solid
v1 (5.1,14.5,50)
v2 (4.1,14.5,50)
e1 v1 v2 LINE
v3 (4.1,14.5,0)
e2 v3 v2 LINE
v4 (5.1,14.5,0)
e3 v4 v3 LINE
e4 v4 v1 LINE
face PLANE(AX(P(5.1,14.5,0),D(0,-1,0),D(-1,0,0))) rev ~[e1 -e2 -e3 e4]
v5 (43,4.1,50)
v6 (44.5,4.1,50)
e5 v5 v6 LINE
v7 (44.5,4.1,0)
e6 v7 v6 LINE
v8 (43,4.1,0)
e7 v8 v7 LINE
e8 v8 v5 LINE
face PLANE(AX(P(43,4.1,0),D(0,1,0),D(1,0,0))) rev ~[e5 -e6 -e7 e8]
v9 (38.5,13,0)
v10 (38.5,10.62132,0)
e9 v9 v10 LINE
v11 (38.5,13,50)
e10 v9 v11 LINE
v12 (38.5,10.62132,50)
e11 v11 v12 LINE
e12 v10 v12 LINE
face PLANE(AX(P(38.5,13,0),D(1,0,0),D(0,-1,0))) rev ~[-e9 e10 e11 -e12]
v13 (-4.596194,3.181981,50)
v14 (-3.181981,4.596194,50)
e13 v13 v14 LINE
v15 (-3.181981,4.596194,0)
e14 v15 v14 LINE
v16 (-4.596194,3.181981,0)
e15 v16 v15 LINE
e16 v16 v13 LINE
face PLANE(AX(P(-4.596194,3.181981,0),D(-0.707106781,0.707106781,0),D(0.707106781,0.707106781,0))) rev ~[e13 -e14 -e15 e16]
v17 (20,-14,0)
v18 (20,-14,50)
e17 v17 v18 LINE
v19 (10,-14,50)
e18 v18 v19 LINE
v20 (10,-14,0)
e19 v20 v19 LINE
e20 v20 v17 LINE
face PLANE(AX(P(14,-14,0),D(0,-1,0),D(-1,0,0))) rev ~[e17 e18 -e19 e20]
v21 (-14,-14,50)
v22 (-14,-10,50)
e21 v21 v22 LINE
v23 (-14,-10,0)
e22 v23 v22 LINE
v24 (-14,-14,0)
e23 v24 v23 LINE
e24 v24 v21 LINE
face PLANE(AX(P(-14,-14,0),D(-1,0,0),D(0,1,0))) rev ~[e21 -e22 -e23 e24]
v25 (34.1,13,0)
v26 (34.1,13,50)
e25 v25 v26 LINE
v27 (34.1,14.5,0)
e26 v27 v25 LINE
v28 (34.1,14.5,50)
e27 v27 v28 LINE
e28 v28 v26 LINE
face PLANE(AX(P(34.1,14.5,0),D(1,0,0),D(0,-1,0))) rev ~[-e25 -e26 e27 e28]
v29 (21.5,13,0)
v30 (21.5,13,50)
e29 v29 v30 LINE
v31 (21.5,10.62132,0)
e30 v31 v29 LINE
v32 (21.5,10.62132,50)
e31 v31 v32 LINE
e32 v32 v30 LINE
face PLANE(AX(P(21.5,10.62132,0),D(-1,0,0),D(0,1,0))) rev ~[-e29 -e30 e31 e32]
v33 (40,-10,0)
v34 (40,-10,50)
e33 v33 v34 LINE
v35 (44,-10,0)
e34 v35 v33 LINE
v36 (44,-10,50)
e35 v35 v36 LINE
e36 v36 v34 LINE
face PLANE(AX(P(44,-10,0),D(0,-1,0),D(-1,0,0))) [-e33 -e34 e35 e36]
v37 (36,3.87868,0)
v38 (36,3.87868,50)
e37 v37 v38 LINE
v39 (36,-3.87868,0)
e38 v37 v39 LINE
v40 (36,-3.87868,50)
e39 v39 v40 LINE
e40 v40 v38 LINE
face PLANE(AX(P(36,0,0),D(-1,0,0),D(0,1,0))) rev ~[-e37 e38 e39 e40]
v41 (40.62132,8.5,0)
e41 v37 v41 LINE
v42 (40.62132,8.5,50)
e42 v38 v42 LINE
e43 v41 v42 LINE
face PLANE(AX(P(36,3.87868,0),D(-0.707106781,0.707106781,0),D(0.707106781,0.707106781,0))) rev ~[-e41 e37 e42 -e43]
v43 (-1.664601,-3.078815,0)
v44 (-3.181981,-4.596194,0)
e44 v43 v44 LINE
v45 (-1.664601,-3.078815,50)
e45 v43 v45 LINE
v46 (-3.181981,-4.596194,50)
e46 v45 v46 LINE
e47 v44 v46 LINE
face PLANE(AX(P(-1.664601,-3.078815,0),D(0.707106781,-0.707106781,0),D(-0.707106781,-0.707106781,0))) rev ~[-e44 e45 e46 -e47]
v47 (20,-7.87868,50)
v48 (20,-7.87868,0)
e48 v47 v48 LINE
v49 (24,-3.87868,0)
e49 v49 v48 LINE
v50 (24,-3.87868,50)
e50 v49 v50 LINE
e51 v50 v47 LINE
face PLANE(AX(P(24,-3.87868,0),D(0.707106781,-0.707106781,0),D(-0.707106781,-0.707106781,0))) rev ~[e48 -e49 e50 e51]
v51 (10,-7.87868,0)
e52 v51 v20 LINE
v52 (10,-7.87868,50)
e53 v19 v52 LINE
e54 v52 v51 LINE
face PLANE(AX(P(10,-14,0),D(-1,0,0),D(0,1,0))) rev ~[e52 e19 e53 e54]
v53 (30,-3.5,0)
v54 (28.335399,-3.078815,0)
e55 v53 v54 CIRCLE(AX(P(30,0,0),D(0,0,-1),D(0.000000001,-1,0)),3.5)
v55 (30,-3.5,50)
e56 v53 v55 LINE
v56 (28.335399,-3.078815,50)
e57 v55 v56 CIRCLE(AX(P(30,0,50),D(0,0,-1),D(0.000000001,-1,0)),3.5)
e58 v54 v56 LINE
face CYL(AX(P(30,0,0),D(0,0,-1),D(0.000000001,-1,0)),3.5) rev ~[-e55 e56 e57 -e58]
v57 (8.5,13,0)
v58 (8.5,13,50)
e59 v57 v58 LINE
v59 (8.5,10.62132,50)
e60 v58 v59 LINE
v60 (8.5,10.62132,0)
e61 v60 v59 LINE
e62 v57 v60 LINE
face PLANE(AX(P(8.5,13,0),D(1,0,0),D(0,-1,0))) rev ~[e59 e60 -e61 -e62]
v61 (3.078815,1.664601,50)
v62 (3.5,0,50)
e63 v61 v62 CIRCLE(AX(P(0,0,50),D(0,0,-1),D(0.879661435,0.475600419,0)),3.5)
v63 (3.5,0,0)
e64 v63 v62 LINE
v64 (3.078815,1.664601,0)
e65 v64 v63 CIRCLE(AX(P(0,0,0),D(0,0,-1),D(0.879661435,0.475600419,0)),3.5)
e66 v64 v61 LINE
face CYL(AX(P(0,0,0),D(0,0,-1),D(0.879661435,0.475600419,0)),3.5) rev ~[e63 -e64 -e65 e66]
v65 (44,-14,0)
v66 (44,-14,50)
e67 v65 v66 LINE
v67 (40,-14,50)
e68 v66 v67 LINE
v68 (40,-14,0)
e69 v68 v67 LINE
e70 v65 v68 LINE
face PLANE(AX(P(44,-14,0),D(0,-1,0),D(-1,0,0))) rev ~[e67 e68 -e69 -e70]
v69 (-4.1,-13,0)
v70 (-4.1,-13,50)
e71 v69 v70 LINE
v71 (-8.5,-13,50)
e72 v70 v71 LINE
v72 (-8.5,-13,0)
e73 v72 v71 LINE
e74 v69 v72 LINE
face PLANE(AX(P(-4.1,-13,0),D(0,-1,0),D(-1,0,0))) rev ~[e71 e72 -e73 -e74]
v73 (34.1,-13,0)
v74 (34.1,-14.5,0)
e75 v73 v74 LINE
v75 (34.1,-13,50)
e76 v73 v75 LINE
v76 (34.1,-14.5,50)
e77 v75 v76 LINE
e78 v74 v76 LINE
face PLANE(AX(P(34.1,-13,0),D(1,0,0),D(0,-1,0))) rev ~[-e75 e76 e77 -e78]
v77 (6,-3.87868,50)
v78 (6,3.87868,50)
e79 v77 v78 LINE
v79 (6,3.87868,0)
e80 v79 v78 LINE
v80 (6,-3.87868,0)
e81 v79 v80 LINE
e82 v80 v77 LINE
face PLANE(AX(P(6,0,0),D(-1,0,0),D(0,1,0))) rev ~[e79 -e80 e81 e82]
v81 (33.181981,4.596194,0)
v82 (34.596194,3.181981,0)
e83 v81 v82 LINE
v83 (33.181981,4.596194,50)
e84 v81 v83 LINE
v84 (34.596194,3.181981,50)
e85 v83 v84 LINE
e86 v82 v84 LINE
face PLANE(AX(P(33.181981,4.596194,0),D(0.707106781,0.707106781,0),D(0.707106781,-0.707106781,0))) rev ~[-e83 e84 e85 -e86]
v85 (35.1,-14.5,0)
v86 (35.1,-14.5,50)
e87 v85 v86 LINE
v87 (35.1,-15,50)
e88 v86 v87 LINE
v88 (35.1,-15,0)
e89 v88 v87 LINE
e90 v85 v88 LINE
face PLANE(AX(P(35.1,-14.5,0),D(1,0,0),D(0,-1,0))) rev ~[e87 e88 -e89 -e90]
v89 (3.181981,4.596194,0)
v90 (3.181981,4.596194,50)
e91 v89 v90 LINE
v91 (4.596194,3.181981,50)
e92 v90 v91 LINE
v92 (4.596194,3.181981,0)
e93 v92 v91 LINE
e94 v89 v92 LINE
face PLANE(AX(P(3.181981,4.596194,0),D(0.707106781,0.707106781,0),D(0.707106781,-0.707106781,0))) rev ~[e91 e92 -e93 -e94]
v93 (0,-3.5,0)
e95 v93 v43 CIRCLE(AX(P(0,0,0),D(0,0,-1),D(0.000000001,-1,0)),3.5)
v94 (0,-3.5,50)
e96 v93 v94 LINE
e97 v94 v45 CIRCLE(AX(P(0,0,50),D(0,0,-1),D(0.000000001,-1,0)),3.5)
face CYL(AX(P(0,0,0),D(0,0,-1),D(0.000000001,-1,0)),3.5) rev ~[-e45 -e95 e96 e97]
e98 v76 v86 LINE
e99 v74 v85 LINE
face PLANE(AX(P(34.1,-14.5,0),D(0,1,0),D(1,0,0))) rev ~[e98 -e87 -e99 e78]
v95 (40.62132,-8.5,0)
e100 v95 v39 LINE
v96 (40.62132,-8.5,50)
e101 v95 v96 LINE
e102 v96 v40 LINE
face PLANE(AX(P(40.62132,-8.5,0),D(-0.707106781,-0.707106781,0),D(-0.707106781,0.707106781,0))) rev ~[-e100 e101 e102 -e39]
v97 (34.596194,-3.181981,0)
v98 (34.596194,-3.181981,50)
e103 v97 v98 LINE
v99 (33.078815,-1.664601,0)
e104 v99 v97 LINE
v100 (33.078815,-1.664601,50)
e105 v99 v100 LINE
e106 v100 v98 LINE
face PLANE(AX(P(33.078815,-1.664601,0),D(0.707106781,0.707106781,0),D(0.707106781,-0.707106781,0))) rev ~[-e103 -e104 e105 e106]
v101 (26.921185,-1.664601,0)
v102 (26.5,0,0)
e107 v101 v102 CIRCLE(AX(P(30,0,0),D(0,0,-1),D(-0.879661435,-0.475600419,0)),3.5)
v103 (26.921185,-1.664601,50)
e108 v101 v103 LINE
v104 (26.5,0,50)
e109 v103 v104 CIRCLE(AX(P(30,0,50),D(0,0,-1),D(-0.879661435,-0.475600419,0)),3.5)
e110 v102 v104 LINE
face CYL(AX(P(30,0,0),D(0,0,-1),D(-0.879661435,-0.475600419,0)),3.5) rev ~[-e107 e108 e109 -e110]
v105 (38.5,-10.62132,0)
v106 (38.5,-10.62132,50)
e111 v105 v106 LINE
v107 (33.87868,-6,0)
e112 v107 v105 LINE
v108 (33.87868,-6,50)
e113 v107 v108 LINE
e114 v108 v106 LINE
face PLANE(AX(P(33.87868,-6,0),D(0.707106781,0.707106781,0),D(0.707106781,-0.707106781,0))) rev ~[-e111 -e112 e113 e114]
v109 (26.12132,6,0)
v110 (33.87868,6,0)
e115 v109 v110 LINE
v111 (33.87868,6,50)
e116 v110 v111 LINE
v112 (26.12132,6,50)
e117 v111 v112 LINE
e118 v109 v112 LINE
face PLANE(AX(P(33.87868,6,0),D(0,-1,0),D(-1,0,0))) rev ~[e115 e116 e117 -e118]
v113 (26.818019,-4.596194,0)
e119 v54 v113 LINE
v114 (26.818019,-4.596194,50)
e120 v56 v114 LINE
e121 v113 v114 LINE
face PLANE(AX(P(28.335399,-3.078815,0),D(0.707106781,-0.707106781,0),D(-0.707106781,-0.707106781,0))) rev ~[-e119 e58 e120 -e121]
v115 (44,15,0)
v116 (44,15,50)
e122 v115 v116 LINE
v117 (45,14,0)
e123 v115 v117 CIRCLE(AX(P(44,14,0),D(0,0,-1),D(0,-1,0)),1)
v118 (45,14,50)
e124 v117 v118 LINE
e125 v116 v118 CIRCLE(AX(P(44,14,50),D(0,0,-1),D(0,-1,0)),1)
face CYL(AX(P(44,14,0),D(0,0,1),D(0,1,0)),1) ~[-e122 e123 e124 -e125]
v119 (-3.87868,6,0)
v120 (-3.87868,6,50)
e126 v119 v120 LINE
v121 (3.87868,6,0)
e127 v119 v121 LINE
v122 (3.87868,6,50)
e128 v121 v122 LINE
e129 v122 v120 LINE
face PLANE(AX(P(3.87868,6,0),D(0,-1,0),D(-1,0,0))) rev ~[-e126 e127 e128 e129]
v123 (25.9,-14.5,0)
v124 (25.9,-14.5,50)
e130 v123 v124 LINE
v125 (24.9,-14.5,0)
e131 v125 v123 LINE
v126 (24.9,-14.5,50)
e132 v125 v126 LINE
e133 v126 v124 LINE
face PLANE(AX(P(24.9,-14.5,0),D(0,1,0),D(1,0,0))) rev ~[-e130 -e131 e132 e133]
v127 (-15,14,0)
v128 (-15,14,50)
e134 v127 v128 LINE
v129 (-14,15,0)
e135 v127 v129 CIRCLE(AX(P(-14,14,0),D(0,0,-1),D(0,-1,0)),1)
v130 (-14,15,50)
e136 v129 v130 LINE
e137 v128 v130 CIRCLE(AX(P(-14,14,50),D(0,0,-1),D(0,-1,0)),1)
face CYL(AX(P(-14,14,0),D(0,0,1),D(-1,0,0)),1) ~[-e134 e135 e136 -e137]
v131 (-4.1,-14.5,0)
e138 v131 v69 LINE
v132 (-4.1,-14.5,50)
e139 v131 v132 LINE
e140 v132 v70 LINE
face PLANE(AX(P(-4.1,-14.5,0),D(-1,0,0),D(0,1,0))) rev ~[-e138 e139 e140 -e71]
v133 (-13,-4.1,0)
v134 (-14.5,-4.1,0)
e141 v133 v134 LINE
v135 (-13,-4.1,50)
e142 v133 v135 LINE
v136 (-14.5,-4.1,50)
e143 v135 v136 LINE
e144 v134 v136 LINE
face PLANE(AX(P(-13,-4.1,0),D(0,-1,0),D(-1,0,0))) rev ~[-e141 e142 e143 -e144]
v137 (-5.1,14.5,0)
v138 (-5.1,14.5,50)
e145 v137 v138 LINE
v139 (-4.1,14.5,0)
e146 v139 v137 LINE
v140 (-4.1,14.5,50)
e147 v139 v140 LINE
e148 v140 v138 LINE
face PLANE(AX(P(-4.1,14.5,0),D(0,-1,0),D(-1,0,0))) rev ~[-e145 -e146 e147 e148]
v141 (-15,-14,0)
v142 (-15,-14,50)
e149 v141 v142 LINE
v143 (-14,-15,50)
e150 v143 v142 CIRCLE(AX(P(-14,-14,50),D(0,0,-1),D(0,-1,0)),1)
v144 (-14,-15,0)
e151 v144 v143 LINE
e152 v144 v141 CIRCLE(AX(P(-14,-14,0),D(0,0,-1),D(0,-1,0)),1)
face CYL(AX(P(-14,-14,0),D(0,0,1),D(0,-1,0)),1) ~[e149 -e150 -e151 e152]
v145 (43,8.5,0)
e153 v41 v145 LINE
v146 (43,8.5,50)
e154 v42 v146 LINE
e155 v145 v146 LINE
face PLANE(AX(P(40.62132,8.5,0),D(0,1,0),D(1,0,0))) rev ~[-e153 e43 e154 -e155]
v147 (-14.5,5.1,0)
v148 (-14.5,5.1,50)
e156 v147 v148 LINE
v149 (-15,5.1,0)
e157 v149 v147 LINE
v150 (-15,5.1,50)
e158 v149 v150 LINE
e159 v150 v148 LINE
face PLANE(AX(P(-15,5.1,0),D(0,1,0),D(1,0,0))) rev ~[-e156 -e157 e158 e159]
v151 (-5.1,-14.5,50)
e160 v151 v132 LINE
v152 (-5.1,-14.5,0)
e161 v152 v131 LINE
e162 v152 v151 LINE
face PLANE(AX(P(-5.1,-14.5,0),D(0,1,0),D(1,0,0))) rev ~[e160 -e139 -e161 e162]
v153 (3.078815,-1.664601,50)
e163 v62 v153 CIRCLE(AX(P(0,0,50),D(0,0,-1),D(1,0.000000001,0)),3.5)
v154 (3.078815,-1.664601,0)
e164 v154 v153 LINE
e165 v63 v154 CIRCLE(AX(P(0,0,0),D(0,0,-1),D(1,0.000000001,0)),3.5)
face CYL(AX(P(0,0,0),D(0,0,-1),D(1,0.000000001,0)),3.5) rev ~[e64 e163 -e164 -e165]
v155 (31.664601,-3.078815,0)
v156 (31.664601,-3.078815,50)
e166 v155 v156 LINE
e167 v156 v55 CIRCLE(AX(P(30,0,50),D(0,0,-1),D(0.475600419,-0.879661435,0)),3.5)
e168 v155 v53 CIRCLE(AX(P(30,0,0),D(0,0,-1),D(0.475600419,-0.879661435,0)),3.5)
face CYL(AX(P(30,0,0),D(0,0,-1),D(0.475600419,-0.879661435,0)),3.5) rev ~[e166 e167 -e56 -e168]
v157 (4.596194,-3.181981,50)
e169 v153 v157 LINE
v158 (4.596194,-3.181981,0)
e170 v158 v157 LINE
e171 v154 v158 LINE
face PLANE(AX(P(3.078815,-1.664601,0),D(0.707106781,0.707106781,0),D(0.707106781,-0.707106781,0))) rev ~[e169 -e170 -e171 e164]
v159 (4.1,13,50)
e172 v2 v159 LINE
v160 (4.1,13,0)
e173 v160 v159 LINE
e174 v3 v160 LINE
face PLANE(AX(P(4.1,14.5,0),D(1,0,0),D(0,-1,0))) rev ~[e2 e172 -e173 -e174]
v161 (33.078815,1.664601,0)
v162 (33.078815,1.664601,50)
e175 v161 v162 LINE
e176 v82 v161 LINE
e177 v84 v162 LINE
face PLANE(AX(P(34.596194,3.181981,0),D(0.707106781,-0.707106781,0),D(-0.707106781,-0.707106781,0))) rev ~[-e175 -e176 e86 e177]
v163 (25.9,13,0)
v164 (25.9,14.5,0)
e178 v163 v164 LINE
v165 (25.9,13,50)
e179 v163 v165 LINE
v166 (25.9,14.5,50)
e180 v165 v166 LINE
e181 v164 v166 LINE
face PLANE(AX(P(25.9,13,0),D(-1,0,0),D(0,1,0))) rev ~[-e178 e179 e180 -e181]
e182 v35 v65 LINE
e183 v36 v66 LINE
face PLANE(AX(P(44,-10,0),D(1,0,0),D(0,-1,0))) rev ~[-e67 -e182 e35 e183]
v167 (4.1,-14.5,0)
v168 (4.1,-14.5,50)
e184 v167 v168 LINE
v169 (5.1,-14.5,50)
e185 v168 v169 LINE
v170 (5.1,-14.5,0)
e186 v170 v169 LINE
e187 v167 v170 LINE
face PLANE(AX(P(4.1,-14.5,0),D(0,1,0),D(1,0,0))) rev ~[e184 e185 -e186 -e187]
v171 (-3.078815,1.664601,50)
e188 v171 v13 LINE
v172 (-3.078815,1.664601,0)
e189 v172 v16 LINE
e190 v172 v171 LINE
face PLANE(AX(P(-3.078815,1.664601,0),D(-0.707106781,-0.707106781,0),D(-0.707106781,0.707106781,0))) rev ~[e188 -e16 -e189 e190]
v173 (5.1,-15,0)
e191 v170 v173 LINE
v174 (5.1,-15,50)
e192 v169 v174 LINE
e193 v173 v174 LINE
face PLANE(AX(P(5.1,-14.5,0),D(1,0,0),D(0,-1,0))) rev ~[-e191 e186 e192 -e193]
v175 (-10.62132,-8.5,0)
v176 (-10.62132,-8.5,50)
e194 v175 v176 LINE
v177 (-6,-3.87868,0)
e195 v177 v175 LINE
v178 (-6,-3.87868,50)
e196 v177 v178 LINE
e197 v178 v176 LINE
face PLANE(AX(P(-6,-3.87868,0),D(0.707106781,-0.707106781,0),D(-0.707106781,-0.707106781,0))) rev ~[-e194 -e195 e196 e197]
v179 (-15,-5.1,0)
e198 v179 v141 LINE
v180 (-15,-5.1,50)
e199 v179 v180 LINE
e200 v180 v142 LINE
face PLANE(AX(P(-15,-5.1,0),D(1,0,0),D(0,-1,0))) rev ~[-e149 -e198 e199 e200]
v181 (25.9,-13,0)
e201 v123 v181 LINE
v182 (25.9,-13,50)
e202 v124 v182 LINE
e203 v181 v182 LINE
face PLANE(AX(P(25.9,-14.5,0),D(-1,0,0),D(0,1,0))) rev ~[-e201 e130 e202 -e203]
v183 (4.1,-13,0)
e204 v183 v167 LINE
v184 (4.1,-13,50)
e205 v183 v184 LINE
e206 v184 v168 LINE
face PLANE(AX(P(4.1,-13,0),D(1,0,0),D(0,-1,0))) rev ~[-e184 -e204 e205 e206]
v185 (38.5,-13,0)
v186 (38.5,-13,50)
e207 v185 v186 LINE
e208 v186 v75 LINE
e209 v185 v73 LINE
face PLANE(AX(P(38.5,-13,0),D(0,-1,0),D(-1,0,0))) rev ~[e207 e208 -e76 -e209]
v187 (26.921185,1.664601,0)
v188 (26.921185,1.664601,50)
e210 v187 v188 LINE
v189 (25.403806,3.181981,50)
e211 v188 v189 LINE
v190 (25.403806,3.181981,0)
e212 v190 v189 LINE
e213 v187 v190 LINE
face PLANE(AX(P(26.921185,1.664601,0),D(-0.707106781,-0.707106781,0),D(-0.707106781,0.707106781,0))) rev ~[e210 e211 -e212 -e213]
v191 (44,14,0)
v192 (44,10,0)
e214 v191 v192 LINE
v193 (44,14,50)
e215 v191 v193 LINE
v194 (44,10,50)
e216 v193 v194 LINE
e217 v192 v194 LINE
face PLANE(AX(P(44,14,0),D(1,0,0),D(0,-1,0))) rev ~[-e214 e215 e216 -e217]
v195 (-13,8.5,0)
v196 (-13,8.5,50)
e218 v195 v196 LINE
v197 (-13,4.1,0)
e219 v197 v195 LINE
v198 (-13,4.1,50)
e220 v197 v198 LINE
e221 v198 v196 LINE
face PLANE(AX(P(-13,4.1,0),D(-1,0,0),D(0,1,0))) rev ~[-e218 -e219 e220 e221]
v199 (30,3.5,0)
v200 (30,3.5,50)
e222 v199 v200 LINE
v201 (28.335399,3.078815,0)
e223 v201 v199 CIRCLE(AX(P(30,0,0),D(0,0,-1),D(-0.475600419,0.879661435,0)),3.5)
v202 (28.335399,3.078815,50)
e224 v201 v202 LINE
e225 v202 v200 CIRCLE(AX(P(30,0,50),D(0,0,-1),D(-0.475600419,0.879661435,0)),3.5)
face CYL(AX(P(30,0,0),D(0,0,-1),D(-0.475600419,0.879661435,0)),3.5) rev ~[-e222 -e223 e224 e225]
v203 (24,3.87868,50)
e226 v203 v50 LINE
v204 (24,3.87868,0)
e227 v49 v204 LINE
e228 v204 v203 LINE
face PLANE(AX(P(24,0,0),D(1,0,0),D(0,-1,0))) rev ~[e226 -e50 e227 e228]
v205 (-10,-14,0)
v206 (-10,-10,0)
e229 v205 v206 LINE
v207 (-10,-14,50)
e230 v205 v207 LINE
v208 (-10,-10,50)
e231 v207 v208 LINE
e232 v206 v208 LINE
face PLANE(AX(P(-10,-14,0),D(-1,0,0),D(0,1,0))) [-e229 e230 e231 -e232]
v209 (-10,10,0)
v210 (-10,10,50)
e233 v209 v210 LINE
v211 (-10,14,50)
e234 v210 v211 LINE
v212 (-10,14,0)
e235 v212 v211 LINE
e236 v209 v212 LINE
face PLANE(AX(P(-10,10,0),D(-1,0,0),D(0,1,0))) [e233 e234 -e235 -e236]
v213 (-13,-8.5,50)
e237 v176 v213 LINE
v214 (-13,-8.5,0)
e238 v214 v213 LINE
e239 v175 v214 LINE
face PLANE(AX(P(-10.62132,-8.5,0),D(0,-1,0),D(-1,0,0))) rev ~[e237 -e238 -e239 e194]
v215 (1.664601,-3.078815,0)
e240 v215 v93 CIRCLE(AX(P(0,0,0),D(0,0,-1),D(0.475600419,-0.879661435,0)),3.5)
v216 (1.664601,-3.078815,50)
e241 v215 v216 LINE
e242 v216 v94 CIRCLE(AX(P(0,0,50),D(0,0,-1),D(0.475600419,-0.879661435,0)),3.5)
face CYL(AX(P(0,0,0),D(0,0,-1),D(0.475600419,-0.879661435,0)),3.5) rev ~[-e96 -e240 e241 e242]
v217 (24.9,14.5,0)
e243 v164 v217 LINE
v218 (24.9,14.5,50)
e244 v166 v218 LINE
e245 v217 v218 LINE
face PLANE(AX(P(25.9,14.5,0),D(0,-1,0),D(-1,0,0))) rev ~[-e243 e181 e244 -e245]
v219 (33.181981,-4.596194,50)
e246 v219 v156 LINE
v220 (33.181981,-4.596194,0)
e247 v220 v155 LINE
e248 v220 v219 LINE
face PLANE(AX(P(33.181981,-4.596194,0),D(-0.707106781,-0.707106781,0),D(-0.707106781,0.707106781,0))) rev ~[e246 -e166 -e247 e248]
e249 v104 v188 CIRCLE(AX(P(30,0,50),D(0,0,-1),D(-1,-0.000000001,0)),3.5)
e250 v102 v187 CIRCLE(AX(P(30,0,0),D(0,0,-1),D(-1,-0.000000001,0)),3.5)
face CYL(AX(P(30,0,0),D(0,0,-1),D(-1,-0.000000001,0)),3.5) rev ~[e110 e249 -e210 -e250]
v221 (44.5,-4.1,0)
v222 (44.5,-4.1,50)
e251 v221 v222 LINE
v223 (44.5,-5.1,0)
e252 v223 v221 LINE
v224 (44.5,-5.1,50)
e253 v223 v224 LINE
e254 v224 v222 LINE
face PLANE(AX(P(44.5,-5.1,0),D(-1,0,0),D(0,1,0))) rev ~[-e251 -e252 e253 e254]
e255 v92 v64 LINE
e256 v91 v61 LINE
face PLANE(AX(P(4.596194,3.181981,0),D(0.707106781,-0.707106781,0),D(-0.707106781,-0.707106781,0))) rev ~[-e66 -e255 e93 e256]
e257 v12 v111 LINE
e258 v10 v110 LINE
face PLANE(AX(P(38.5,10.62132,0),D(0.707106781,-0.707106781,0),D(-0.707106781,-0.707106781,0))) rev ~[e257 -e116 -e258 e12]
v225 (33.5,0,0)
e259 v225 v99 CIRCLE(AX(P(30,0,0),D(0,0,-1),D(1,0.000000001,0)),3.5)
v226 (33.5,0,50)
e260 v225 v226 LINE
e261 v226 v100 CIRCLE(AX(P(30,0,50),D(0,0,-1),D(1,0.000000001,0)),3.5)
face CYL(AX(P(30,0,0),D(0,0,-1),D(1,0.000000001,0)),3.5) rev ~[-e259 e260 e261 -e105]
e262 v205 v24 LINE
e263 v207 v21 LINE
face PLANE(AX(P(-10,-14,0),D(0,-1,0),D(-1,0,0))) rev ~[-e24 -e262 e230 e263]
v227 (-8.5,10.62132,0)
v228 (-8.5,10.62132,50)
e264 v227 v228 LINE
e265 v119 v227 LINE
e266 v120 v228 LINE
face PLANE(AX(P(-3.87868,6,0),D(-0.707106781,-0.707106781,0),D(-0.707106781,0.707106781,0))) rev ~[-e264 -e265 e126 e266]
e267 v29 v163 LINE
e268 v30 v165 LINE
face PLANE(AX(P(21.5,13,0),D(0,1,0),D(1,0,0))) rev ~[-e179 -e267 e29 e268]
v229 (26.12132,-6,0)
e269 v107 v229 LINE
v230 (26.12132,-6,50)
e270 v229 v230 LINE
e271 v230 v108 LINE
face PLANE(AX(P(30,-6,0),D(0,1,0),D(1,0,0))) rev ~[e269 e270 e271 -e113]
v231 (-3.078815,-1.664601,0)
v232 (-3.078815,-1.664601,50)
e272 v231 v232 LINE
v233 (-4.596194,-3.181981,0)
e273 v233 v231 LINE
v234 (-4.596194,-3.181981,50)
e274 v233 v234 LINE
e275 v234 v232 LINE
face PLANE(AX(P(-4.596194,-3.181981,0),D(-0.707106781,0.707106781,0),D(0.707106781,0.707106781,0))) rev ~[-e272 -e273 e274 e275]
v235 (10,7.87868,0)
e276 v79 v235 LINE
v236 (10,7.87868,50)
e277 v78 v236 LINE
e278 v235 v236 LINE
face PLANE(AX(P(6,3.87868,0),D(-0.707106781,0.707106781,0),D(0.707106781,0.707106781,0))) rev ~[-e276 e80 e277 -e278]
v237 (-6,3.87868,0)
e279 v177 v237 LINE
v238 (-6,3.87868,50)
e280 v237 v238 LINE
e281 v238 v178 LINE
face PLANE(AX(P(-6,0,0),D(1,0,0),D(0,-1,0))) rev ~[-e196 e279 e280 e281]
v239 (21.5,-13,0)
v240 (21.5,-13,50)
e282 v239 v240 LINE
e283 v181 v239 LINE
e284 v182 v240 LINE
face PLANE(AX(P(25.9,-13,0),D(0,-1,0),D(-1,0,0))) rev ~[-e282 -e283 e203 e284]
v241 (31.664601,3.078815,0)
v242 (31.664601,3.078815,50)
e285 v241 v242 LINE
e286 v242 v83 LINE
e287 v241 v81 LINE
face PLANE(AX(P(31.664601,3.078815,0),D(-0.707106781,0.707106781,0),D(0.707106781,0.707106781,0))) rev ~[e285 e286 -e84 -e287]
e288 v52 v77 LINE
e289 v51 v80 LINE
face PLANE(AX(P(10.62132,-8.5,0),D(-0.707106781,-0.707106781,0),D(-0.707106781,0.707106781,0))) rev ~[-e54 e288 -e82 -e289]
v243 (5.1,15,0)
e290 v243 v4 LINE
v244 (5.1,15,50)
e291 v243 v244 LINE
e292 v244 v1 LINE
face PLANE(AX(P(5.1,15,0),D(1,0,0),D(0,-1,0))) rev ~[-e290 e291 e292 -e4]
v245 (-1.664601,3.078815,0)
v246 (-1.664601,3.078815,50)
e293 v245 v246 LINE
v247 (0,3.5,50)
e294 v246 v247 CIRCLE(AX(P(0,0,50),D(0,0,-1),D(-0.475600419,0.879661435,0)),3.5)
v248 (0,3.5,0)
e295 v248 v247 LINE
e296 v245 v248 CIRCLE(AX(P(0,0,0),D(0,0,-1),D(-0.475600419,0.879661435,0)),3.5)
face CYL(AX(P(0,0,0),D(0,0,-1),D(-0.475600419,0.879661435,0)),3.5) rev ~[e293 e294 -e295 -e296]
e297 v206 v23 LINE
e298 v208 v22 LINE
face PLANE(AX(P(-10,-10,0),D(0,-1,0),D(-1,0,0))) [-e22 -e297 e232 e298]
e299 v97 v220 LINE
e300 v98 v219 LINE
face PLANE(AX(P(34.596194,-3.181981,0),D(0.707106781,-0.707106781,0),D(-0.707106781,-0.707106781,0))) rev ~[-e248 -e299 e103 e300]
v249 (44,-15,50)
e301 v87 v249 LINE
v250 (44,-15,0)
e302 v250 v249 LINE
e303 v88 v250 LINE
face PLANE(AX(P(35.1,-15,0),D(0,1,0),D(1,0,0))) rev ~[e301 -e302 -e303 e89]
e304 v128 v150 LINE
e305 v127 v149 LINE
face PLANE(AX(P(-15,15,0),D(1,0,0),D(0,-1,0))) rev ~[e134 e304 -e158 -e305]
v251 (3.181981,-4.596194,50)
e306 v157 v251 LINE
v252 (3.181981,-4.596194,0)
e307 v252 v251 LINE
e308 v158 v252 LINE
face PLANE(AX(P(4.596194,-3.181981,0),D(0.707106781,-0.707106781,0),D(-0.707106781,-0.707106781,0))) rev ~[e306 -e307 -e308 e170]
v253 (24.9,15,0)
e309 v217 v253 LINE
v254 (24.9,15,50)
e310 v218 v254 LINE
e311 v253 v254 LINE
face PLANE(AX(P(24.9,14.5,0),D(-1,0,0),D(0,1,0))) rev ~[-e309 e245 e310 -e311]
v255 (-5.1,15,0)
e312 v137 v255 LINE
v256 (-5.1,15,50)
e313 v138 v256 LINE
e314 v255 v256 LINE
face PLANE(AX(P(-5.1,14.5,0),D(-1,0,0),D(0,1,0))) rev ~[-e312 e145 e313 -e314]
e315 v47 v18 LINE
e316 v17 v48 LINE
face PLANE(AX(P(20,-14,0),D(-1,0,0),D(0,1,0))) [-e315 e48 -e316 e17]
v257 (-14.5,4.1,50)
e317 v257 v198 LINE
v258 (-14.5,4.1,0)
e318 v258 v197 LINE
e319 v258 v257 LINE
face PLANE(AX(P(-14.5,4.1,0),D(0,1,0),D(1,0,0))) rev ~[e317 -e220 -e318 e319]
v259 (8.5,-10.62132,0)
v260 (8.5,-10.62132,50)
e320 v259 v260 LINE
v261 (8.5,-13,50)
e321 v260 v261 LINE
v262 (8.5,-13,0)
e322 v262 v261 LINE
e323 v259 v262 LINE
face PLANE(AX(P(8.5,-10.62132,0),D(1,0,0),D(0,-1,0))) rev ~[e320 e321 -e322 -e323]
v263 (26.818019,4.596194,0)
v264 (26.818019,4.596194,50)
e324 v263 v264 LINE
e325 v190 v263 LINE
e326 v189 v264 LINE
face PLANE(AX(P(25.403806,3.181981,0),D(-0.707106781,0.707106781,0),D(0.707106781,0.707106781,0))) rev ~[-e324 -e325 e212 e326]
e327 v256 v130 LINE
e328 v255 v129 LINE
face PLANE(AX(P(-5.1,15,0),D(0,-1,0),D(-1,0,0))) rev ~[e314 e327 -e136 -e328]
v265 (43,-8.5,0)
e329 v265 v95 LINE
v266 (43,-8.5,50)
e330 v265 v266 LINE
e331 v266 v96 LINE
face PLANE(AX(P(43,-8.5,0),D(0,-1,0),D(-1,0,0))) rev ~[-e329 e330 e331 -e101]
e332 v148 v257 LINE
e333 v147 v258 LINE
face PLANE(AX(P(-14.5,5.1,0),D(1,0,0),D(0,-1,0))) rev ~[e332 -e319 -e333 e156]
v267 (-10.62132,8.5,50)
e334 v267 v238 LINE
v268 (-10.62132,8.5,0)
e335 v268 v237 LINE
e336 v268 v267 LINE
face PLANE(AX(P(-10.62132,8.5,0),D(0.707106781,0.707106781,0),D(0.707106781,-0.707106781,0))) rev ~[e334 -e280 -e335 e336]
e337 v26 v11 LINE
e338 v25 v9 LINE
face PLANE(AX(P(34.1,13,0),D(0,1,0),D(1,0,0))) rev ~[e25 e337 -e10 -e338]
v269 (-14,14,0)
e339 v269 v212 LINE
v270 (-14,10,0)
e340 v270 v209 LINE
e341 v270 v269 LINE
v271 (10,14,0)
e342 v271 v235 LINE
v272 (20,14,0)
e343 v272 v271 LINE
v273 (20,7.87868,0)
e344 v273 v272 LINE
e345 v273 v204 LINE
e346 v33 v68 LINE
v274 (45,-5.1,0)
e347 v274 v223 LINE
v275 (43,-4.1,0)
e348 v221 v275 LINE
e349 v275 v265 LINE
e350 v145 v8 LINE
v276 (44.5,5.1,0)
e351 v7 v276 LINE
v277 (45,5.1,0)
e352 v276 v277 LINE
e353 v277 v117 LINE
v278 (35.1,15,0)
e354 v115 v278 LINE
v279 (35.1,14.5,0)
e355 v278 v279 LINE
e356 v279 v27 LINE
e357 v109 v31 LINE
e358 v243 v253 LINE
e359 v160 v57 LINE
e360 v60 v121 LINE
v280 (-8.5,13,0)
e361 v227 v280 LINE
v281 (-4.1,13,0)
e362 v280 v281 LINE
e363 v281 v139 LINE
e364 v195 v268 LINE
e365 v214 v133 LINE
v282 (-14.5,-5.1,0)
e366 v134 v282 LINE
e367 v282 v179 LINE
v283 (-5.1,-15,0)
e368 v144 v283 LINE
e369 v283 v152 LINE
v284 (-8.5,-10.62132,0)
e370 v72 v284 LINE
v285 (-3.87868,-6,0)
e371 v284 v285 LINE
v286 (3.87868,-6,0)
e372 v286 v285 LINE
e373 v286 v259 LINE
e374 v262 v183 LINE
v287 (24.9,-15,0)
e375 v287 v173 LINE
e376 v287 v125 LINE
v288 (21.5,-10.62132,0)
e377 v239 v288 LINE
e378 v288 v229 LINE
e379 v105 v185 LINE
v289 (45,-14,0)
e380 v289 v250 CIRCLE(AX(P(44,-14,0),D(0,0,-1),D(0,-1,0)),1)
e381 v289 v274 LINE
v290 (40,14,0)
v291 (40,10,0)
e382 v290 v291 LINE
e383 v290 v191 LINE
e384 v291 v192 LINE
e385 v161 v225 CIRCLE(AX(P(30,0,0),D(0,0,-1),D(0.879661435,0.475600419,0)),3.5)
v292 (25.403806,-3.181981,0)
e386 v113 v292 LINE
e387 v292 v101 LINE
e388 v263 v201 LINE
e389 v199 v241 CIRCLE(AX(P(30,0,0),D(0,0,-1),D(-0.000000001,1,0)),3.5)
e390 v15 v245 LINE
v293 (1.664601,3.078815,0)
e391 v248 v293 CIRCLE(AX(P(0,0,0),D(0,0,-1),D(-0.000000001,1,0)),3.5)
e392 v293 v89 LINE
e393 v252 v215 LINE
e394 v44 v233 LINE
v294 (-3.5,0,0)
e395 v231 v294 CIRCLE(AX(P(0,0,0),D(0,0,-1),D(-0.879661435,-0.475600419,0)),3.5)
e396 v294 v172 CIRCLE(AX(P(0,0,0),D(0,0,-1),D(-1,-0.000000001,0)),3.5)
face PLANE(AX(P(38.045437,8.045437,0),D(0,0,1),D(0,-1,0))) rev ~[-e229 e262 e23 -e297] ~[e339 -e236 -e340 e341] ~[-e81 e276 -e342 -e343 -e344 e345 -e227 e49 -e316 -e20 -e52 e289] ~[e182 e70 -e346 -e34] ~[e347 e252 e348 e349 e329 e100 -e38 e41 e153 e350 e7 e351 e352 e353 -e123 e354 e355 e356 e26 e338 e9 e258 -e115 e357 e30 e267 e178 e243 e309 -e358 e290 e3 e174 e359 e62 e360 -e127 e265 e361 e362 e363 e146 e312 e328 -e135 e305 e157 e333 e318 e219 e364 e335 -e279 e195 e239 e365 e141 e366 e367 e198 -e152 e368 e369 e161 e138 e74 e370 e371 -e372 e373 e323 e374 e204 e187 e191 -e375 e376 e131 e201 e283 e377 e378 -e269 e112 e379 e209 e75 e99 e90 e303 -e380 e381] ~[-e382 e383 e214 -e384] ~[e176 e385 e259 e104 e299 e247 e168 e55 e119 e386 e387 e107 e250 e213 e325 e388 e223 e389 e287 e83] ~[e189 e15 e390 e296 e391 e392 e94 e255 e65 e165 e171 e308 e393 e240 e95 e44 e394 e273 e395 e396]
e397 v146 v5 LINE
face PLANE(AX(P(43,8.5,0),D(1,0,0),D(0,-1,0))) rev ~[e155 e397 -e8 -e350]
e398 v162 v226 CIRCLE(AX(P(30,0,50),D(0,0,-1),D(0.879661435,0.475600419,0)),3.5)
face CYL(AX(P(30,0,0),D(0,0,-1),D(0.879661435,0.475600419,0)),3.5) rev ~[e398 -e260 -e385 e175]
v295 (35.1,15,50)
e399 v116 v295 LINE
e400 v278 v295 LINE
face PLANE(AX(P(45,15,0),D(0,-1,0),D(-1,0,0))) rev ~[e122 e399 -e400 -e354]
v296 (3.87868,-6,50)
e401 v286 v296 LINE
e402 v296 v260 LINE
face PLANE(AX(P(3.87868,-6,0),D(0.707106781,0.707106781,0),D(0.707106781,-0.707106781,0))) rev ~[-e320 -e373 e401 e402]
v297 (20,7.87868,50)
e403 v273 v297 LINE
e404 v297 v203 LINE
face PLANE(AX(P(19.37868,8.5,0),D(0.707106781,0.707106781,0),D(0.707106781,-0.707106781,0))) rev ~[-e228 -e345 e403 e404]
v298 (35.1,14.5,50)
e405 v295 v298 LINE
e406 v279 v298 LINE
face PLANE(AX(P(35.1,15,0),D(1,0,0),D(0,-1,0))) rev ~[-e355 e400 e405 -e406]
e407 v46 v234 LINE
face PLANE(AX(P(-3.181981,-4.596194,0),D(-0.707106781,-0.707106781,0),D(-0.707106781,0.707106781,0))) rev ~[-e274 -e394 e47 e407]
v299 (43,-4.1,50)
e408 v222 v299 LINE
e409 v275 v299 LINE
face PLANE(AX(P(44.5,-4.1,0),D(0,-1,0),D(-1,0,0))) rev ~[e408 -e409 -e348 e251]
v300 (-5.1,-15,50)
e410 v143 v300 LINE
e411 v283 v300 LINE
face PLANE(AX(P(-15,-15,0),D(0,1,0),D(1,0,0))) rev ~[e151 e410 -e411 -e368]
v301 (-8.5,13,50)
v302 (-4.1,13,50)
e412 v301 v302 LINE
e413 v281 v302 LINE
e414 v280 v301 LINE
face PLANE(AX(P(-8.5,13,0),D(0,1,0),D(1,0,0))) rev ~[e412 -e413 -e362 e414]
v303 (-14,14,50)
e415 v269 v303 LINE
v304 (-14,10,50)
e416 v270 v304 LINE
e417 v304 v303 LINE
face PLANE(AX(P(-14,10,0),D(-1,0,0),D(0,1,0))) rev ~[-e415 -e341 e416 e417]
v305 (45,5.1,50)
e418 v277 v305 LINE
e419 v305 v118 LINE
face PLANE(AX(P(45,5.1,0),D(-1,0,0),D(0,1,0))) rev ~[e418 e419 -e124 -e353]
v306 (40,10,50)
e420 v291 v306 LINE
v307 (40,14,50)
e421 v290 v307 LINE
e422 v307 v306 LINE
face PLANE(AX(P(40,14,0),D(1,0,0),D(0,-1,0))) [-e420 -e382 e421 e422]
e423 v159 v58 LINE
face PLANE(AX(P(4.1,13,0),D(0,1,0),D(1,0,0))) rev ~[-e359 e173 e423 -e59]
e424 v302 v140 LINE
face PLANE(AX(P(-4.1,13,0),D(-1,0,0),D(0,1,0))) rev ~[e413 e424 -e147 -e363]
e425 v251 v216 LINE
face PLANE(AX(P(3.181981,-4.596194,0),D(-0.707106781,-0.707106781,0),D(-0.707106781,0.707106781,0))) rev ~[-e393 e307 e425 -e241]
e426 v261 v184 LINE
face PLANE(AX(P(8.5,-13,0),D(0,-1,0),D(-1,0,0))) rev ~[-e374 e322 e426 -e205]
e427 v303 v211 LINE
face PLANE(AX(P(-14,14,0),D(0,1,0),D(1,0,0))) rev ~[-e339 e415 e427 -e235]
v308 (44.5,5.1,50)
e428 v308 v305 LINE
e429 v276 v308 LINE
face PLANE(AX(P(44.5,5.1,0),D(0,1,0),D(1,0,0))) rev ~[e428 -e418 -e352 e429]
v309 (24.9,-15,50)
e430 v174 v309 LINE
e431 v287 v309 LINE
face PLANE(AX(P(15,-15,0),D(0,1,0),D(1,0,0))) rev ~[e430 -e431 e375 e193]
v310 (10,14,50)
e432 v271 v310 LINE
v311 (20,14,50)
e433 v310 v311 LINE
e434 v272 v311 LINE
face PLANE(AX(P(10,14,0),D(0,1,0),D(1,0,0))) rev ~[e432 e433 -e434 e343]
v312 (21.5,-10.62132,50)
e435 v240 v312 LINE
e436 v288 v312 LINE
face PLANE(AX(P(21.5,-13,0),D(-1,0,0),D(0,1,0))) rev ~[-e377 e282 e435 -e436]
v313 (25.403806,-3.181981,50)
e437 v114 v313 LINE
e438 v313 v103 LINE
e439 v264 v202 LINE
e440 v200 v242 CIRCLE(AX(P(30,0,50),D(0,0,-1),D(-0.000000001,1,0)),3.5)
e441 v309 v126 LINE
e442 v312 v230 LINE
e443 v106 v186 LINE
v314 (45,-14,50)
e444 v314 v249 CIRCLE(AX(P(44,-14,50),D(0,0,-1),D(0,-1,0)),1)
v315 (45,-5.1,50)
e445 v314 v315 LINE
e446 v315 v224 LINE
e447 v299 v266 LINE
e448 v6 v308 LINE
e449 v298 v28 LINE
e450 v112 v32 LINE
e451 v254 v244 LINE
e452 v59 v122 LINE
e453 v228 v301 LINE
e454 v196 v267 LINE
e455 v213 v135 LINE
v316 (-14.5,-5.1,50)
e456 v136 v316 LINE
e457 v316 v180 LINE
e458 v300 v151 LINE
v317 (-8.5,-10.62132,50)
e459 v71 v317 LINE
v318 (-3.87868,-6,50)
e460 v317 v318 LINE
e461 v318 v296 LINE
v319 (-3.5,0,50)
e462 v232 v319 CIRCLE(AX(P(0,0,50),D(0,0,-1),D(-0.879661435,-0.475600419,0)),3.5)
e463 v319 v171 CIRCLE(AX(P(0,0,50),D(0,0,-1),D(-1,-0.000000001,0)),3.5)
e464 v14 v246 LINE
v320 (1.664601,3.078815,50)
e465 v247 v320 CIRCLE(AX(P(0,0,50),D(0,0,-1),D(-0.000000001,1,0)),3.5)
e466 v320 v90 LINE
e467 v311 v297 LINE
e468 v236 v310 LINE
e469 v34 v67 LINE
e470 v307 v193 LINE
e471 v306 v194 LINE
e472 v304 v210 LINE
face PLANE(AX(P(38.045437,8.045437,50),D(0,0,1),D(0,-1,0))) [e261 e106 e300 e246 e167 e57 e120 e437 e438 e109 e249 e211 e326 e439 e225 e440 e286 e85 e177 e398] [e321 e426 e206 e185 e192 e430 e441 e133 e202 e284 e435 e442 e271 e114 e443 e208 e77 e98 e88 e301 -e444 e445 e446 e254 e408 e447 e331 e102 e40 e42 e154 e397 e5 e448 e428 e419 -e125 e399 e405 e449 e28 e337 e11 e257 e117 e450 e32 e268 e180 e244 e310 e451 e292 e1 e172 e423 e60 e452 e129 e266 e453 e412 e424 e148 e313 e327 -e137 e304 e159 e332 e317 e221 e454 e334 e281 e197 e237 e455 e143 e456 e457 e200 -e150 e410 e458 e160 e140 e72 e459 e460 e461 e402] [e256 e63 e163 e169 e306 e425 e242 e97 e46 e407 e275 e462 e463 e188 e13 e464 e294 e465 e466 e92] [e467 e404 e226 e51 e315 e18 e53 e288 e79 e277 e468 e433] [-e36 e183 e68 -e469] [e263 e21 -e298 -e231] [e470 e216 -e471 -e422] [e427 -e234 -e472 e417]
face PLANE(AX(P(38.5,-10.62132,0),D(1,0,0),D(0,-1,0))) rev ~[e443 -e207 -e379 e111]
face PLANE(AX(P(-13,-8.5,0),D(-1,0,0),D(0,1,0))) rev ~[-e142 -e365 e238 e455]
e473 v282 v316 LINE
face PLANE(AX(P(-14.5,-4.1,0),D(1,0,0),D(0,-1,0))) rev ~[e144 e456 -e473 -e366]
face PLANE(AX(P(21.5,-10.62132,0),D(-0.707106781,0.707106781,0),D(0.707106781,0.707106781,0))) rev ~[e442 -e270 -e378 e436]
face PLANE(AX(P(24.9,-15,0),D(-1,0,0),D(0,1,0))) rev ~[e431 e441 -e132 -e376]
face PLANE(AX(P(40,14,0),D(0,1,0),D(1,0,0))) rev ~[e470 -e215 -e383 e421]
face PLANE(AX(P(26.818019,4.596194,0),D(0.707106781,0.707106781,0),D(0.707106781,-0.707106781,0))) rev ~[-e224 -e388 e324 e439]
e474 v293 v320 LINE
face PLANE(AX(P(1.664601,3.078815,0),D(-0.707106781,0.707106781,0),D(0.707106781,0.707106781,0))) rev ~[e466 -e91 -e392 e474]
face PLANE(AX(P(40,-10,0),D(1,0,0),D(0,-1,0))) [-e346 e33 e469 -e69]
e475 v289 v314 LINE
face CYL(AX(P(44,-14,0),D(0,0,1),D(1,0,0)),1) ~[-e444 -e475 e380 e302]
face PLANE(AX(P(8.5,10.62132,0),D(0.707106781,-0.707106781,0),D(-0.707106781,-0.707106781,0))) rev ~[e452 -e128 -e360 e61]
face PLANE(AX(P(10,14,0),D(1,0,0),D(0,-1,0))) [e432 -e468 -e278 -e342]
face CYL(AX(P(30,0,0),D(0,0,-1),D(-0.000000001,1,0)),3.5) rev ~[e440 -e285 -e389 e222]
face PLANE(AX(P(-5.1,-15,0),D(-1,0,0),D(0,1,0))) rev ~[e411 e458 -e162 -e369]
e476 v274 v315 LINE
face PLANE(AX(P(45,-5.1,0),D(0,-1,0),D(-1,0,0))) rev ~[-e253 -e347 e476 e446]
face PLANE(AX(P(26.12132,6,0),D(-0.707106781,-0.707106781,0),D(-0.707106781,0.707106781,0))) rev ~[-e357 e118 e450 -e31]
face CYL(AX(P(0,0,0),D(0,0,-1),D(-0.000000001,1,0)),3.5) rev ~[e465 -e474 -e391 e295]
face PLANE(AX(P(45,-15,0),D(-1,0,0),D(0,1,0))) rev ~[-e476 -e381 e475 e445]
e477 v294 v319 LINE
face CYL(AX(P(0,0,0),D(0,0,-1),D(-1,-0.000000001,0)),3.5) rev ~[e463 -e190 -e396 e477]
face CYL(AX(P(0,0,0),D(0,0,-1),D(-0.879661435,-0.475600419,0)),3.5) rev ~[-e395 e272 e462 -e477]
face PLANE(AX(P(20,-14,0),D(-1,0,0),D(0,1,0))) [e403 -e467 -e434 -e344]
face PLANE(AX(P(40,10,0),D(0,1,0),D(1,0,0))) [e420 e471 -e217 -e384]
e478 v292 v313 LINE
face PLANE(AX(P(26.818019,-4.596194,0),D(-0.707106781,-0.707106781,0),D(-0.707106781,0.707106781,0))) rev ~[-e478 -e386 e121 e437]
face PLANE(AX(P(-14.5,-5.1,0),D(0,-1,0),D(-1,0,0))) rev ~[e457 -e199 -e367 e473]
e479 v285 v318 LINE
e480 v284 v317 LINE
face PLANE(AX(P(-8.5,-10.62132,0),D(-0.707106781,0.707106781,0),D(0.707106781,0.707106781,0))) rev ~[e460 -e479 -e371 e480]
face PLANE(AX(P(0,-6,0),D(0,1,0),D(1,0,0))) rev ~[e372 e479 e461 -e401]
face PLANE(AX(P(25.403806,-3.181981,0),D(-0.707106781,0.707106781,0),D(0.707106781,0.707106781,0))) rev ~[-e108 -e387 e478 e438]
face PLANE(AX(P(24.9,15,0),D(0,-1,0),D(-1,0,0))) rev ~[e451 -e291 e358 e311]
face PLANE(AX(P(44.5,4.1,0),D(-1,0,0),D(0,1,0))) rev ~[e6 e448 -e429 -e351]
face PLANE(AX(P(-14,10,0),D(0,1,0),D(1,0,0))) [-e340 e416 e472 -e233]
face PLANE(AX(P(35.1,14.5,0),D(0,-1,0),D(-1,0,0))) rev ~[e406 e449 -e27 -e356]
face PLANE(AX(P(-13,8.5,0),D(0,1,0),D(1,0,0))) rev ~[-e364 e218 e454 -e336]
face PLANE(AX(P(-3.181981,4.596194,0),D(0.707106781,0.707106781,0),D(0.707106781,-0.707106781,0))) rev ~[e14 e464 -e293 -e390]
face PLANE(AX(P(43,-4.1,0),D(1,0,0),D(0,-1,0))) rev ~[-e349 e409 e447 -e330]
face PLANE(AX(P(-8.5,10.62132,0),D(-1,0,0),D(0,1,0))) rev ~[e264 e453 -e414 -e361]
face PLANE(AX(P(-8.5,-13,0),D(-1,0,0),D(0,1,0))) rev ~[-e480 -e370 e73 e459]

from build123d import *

# Parameters (mm, degrees)
ESBO_O1_W                      = 4
ESBO_O1_H                      = 4
RESSALTO_EXTRUS_O1_DEPTH       = 50
PADR_OCIRCULAR1_COUNT          = 4
PADR_O_LINEAR1_COUNT           = 2
PADR_O_LINEAR1_PITCH           = 30
PADR_O_LINEAR1_COPY_1_SKETCH_W = 4
PADR_O_LINEAR1_COPY_1_SKETCH_H = 4
PADR_O_LINEAR1_COPY_1_DEPTH    = 50
PADR_O_LINEAR1_COPY_2_SKETCH_W = 4
PADR_O_LINEAR1_COPY_2_SKETCH_H = 4
PADR_O_LINEAR1_COPY_2_DEPTH    = 50
PADR_O_LINEAR1_COPY_3_SKETCH_W = 4
PADR_O_LINEAR1_COPY_3_SKETCH_H = 4
PADR_O_LINEAR1_COPY_3_DEPTH    = 50
ESBO_O4_W                      = 10
ESBO_O4_H                      = 28
CORTE_EXTRUS_O1_DEPTH          = 69.92024376
FILETE1_R                      = 1


with BuildPart() as part:
    # Esboço1 → Ressalto-extrusão1 (new body)
    with BuildSketch(Plane.XY):
        with BuildLine():
            ThreePointArc((-1.664601464, 3.078815026), (-0.858529967, 3.393070335), (0, 3.5))
            Line((0, 3.5), (0, 6))
            Line((0, 6), (-3.878679656, 6))
            Line((-3.878679656, 6), (-8.5, 10.621320344))
            Line((-8.5, 10.621320344), (-8.5, 13))
            Line((-8.5, 13), (-4.1, 13))
            Line((-4.1, 13), (-4.1, 14.5))
            Line((-4.1, 14.5), (-5.1, 14.5))
            Line((-5.1, 14.5), (-5.1, 15))
            Line((-5.1, 15), (-15, 15))
            Line((-15, 15), (-15, 5.1))
            Line((-15, 5.1), (-14.5, 5.1))
            Line((-14.5, 5.1), (-14.5, 4.1))
            Line((-14.5, 4.1), (-13, 4.1))
            Line((-13, 4.1), (-13, 8.5))
            Line((-13, 8.5), (-10.621320344, 8.5))
            Line((-10.621320344, 8.5), (-6, 3.878679656))
            Line((-6, 3.878679656), (-6, 0))
            Line((-6, 0), (-3.5, 0))
            ThreePointArc((-3.5, 0), (-3.393070335, 0.858529967), (-3.078815026, 1.664601464))
            Line((-3.078815026, 1.664601464), (-4.596194078, 3.181980515))
            Line((-4.596194078, 3.181980515), (-3.181980515, 4.596194078))
            Line((-3.181980515, 4.596194078), (-1.664601464, 3.078815026))
        make_face()
        with Locations((-12, 12)):
            Rectangle(ESBO_O1_W, ESBO_O1_H, mode=Mode.SUBTRACT)
    ressalto_extrus_o1 = extrude(amount=RESSALTO_EXTRUS_O1_DEPTH)

    # PadrãoCircular1: Ressalto-extrusão1 ×4 about axis
    padr_ocircular1_axis = Axis((0, 0, 0), (0, 0, 1))
    for i in range(1, PADR_OCIRCULAR1_COUNT):
        add(ressalto_extrus_o1.rotate(padr_ocircular1_axis, i * 360 / PADR_OCIRCULAR1_COUNT))

    # Padrão linear1: Ressalto-extrusão1 ×2
    with Locations(*[(i * PADR_O_LINEAR1_PITCH, 0, 0) for i in range(1, PADR_O_LINEAR1_COUNT)]):
        add(ressalto_extrus_o1)

    # Padrão linear1 copy 1 sketch → Padrão linear1 copy 1 (add)
    with BuildSketch(Plane(origin=(30, 0, 0), x_dir=(0, 1, 0), z_dir=(0, 0, 1))):
        with BuildLine():
            ThreePointArc((-1.664601464, 3.078815026), (-0.858529967, 3.393070335), (0, 3.5))
            Line((0, 3.5), (0, 6))
            Line((0, 6), (-3.878679656, 6))
            Line((-3.878679656, 6), (-8.5, 10.621320344))
            Line((-8.5, 10.621320344), (-8.5, 13))
            Line((-8.5, 13), (-4.1, 13))
            Line((-4.1, 13), (-4.1, 14.5))
            Line((-4.1, 14.5), (-5.1, 14.5))
            Line((-5.1, 14.5), (-5.1, 15))
            Line((-5.1, 15), (-15, 15))
            Line((-15, 15), (-15, 5.1))
            Line((-15, 5.1), (-14.5, 5.1))
            Line((-14.5, 5.1), (-14.5, 4.1))
            Line((-14.5, 4.1), (-13, 4.1))
            Line((-13, 4.1), (-13, 8.5))
            Line((-13, 8.5), (-10.621320344, 8.5))
            Line((-10.621320344, 8.5), (-6, 3.878679656))
            Line((-6, 3.878679656), (-6, 0))
            Line((-6, 0), (-3.5, 0))
            ThreePointArc((-3.5, 0), (-3.393070335, 0.858529967), (-3.078815026, 1.664601464))
            Line((-3.078815026, 1.664601464), (-4.596194078, 3.181980515))
            Line((-4.596194078, 3.181980515), (-3.181980515, 4.596194078))
            Line((-3.181980515, 4.596194078), (-1.664601464, 3.078815026))
        make_face()
        with Locations((-12, 12)):
            Rectangle(PADR_O_LINEAR1_COPY_1_SKETCH_W, PADR_O_LINEAR1_COPY_1_SKETCH_H, mode=Mode.SUBTRACT)
    extrude(amount=PADR_O_LINEAR1_COPY_1_DEPTH)

    # Padrão linear1 copy 2 sketch → Padrão linear1 copy 2 (add)
    with BuildSketch(Plane(origin=(30, 0, 0), x_dir=(-1, 0, 0), z_dir=(0, 0, 1))):
        with BuildLine():
            ThreePointArc((-1.664601464, 3.078815026), (-0.858529967, 3.393070335), (0, 3.5))
            Line((0, 3.5), (0, 6))
            Line((0, 6), (-3.878679656, 6))
            Line((-3.878679656, 6), (-8.5, 10.621320344))
            Line((-8.5, 10.621320344), (-8.5, 13))
            Line((-8.5, 13), (-4.1, 13))
            Line((-4.1, 13), (-4.1, 14.5))
            Line((-4.1, 14.5), (-5.1, 14.5))
            Line((-5.1, 14.5), (-5.1, 15))
            Line((-5.1, 15), (-15, 15))
            Line((-15, 15), (-15, 5.1))
            Line((-15, 5.1), (-14.5, 5.1))
            Line((-14.5, 5.1), (-14.5, 4.1))
            Line((-14.5, 4.1), (-13, 4.1))
            Line((-13, 4.1), (-13, 8.5))
            Line((-13, 8.5), (-10.621320344, 8.5))
            Line((-10.621320344, 8.5), (-6, 3.878679656))
            Line((-6, 3.878679656), (-6, 0))
            Line((-6, 0), (-3.5, 0))
            ThreePointArc((-3.5, 0), (-3.393070335, 0.858529967), (-3.078815026, 1.664601464))
            Line((-3.078815026, 1.664601464), (-4.596194078, 3.181980515))
            Line((-4.596194078, 3.181980515), (-3.181980515, 4.596194078))
            Line((-3.181980515, 4.596194078), (-1.664601464, 3.078815026))
        make_face()
        with Locations((-12, 12)):
            Rectangle(PADR_O_LINEAR1_COPY_2_SKETCH_W, PADR_O_LINEAR1_COPY_2_SKETCH_H, mode=Mode.SUBTRACT)
    extrude(amount=PADR_O_LINEAR1_COPY_2_DEPTH)

    # Padrão linear1 copy 3 sketch → Padrão linear1 copy 3 (add)
    with BuildSketch(Plane(origin=(30, 0, 0), x_dir=(0, -1, 0), z_dir=(0, 0, 1))):
        with BuildLine():
            ThreePointArc((-1.664601464, 3.078815026), (-0.858529967, 3.393070335), (0, 3.5))
            Line((0, 3.5), (0, 6))
            Line((0, 6), (-3.878679656, 6))
            Line((-3.878679656, 6), (-8.5, 10.621320344))
            Line((-8.5, 10.621320344), (-8.5, 13))
            Line((-8.5, 13), (-4.1, 13))
            Line((-4.1, 13), (-4.1, 14.5))
            Line((-4.1, 14.5), (-5.1, 14.5))
            Line((-5.1, 14.5), (-5.1, 15))
            Line((-5.1, 15), (-15, 15))
            Line((-15, 15), (-15, 5.1))
            Line((-15, 5.1), (-14.5, 5.1))
            Line((-14.5, 5.1), (-14.5, 4.1))
            Line((-14.5, 4.1), (-13, 4.1))
            Line((-13, 4.1), (-13, 8.5))
            Line((-13, 8.5), (-10.621320344, 8.5))
            Line((-10.621320344, 8.5), (-6, 3.878679656))
            Line((-6, 3.878679656), (-6, 0))
            Line((-6, 0), (-3.5, 0))
            ThreePointArc((-3.5, 0), (-3.393070335, 0.858529967), (-3.078815026, 1.664601464))
            Line((-3.078815026, 1.664601464), (-4.596194078, 3.181980515))
            Line((-4.596194078, 3.181980515), (-3.181980515, 4.596194078))
            Line((-3.181980515, 4.596194078), (-1.664601464, 3.078815026))
        make_face()
        with Locations((-12, 12)):
            Rectangle(PADR_O_LINEAR1_COPY_3_SKETCH_W, PADR_O_LINEAR1_COPY_3_SKETCH_H, mode=Mode.SUBTRACT)
    extrude(amount=PADR_O_LINEAR1_COPY_3_DEPTH)

    # Esboço4 → Corte-extrusão1 (cut, through all)
    with BuildSketch(Plane(origin=(0, 0, 0), x_dir=(-1, 0, 0), z_dir=(0, 0, -1))):
        with Locations((-15, 0)):
            Rectangle(ESBO_O4_W, ESBO_O4_H)
    extrude(amount=-CORTE_EXTRUS_O1_DEPTH, mode=Mode.SUBTRACT)

    # Filete1
    filete1_edges = [part.edges().sort_by_distance(p)[0] for p in [
        (45, -15, 25),
        (45, 15, 25),
        (-15, 15, 25),
        (-15, -15, 25),
    ]]
    fillet(filete1_edges, radius=FILETE1_R)


solid = part.part
